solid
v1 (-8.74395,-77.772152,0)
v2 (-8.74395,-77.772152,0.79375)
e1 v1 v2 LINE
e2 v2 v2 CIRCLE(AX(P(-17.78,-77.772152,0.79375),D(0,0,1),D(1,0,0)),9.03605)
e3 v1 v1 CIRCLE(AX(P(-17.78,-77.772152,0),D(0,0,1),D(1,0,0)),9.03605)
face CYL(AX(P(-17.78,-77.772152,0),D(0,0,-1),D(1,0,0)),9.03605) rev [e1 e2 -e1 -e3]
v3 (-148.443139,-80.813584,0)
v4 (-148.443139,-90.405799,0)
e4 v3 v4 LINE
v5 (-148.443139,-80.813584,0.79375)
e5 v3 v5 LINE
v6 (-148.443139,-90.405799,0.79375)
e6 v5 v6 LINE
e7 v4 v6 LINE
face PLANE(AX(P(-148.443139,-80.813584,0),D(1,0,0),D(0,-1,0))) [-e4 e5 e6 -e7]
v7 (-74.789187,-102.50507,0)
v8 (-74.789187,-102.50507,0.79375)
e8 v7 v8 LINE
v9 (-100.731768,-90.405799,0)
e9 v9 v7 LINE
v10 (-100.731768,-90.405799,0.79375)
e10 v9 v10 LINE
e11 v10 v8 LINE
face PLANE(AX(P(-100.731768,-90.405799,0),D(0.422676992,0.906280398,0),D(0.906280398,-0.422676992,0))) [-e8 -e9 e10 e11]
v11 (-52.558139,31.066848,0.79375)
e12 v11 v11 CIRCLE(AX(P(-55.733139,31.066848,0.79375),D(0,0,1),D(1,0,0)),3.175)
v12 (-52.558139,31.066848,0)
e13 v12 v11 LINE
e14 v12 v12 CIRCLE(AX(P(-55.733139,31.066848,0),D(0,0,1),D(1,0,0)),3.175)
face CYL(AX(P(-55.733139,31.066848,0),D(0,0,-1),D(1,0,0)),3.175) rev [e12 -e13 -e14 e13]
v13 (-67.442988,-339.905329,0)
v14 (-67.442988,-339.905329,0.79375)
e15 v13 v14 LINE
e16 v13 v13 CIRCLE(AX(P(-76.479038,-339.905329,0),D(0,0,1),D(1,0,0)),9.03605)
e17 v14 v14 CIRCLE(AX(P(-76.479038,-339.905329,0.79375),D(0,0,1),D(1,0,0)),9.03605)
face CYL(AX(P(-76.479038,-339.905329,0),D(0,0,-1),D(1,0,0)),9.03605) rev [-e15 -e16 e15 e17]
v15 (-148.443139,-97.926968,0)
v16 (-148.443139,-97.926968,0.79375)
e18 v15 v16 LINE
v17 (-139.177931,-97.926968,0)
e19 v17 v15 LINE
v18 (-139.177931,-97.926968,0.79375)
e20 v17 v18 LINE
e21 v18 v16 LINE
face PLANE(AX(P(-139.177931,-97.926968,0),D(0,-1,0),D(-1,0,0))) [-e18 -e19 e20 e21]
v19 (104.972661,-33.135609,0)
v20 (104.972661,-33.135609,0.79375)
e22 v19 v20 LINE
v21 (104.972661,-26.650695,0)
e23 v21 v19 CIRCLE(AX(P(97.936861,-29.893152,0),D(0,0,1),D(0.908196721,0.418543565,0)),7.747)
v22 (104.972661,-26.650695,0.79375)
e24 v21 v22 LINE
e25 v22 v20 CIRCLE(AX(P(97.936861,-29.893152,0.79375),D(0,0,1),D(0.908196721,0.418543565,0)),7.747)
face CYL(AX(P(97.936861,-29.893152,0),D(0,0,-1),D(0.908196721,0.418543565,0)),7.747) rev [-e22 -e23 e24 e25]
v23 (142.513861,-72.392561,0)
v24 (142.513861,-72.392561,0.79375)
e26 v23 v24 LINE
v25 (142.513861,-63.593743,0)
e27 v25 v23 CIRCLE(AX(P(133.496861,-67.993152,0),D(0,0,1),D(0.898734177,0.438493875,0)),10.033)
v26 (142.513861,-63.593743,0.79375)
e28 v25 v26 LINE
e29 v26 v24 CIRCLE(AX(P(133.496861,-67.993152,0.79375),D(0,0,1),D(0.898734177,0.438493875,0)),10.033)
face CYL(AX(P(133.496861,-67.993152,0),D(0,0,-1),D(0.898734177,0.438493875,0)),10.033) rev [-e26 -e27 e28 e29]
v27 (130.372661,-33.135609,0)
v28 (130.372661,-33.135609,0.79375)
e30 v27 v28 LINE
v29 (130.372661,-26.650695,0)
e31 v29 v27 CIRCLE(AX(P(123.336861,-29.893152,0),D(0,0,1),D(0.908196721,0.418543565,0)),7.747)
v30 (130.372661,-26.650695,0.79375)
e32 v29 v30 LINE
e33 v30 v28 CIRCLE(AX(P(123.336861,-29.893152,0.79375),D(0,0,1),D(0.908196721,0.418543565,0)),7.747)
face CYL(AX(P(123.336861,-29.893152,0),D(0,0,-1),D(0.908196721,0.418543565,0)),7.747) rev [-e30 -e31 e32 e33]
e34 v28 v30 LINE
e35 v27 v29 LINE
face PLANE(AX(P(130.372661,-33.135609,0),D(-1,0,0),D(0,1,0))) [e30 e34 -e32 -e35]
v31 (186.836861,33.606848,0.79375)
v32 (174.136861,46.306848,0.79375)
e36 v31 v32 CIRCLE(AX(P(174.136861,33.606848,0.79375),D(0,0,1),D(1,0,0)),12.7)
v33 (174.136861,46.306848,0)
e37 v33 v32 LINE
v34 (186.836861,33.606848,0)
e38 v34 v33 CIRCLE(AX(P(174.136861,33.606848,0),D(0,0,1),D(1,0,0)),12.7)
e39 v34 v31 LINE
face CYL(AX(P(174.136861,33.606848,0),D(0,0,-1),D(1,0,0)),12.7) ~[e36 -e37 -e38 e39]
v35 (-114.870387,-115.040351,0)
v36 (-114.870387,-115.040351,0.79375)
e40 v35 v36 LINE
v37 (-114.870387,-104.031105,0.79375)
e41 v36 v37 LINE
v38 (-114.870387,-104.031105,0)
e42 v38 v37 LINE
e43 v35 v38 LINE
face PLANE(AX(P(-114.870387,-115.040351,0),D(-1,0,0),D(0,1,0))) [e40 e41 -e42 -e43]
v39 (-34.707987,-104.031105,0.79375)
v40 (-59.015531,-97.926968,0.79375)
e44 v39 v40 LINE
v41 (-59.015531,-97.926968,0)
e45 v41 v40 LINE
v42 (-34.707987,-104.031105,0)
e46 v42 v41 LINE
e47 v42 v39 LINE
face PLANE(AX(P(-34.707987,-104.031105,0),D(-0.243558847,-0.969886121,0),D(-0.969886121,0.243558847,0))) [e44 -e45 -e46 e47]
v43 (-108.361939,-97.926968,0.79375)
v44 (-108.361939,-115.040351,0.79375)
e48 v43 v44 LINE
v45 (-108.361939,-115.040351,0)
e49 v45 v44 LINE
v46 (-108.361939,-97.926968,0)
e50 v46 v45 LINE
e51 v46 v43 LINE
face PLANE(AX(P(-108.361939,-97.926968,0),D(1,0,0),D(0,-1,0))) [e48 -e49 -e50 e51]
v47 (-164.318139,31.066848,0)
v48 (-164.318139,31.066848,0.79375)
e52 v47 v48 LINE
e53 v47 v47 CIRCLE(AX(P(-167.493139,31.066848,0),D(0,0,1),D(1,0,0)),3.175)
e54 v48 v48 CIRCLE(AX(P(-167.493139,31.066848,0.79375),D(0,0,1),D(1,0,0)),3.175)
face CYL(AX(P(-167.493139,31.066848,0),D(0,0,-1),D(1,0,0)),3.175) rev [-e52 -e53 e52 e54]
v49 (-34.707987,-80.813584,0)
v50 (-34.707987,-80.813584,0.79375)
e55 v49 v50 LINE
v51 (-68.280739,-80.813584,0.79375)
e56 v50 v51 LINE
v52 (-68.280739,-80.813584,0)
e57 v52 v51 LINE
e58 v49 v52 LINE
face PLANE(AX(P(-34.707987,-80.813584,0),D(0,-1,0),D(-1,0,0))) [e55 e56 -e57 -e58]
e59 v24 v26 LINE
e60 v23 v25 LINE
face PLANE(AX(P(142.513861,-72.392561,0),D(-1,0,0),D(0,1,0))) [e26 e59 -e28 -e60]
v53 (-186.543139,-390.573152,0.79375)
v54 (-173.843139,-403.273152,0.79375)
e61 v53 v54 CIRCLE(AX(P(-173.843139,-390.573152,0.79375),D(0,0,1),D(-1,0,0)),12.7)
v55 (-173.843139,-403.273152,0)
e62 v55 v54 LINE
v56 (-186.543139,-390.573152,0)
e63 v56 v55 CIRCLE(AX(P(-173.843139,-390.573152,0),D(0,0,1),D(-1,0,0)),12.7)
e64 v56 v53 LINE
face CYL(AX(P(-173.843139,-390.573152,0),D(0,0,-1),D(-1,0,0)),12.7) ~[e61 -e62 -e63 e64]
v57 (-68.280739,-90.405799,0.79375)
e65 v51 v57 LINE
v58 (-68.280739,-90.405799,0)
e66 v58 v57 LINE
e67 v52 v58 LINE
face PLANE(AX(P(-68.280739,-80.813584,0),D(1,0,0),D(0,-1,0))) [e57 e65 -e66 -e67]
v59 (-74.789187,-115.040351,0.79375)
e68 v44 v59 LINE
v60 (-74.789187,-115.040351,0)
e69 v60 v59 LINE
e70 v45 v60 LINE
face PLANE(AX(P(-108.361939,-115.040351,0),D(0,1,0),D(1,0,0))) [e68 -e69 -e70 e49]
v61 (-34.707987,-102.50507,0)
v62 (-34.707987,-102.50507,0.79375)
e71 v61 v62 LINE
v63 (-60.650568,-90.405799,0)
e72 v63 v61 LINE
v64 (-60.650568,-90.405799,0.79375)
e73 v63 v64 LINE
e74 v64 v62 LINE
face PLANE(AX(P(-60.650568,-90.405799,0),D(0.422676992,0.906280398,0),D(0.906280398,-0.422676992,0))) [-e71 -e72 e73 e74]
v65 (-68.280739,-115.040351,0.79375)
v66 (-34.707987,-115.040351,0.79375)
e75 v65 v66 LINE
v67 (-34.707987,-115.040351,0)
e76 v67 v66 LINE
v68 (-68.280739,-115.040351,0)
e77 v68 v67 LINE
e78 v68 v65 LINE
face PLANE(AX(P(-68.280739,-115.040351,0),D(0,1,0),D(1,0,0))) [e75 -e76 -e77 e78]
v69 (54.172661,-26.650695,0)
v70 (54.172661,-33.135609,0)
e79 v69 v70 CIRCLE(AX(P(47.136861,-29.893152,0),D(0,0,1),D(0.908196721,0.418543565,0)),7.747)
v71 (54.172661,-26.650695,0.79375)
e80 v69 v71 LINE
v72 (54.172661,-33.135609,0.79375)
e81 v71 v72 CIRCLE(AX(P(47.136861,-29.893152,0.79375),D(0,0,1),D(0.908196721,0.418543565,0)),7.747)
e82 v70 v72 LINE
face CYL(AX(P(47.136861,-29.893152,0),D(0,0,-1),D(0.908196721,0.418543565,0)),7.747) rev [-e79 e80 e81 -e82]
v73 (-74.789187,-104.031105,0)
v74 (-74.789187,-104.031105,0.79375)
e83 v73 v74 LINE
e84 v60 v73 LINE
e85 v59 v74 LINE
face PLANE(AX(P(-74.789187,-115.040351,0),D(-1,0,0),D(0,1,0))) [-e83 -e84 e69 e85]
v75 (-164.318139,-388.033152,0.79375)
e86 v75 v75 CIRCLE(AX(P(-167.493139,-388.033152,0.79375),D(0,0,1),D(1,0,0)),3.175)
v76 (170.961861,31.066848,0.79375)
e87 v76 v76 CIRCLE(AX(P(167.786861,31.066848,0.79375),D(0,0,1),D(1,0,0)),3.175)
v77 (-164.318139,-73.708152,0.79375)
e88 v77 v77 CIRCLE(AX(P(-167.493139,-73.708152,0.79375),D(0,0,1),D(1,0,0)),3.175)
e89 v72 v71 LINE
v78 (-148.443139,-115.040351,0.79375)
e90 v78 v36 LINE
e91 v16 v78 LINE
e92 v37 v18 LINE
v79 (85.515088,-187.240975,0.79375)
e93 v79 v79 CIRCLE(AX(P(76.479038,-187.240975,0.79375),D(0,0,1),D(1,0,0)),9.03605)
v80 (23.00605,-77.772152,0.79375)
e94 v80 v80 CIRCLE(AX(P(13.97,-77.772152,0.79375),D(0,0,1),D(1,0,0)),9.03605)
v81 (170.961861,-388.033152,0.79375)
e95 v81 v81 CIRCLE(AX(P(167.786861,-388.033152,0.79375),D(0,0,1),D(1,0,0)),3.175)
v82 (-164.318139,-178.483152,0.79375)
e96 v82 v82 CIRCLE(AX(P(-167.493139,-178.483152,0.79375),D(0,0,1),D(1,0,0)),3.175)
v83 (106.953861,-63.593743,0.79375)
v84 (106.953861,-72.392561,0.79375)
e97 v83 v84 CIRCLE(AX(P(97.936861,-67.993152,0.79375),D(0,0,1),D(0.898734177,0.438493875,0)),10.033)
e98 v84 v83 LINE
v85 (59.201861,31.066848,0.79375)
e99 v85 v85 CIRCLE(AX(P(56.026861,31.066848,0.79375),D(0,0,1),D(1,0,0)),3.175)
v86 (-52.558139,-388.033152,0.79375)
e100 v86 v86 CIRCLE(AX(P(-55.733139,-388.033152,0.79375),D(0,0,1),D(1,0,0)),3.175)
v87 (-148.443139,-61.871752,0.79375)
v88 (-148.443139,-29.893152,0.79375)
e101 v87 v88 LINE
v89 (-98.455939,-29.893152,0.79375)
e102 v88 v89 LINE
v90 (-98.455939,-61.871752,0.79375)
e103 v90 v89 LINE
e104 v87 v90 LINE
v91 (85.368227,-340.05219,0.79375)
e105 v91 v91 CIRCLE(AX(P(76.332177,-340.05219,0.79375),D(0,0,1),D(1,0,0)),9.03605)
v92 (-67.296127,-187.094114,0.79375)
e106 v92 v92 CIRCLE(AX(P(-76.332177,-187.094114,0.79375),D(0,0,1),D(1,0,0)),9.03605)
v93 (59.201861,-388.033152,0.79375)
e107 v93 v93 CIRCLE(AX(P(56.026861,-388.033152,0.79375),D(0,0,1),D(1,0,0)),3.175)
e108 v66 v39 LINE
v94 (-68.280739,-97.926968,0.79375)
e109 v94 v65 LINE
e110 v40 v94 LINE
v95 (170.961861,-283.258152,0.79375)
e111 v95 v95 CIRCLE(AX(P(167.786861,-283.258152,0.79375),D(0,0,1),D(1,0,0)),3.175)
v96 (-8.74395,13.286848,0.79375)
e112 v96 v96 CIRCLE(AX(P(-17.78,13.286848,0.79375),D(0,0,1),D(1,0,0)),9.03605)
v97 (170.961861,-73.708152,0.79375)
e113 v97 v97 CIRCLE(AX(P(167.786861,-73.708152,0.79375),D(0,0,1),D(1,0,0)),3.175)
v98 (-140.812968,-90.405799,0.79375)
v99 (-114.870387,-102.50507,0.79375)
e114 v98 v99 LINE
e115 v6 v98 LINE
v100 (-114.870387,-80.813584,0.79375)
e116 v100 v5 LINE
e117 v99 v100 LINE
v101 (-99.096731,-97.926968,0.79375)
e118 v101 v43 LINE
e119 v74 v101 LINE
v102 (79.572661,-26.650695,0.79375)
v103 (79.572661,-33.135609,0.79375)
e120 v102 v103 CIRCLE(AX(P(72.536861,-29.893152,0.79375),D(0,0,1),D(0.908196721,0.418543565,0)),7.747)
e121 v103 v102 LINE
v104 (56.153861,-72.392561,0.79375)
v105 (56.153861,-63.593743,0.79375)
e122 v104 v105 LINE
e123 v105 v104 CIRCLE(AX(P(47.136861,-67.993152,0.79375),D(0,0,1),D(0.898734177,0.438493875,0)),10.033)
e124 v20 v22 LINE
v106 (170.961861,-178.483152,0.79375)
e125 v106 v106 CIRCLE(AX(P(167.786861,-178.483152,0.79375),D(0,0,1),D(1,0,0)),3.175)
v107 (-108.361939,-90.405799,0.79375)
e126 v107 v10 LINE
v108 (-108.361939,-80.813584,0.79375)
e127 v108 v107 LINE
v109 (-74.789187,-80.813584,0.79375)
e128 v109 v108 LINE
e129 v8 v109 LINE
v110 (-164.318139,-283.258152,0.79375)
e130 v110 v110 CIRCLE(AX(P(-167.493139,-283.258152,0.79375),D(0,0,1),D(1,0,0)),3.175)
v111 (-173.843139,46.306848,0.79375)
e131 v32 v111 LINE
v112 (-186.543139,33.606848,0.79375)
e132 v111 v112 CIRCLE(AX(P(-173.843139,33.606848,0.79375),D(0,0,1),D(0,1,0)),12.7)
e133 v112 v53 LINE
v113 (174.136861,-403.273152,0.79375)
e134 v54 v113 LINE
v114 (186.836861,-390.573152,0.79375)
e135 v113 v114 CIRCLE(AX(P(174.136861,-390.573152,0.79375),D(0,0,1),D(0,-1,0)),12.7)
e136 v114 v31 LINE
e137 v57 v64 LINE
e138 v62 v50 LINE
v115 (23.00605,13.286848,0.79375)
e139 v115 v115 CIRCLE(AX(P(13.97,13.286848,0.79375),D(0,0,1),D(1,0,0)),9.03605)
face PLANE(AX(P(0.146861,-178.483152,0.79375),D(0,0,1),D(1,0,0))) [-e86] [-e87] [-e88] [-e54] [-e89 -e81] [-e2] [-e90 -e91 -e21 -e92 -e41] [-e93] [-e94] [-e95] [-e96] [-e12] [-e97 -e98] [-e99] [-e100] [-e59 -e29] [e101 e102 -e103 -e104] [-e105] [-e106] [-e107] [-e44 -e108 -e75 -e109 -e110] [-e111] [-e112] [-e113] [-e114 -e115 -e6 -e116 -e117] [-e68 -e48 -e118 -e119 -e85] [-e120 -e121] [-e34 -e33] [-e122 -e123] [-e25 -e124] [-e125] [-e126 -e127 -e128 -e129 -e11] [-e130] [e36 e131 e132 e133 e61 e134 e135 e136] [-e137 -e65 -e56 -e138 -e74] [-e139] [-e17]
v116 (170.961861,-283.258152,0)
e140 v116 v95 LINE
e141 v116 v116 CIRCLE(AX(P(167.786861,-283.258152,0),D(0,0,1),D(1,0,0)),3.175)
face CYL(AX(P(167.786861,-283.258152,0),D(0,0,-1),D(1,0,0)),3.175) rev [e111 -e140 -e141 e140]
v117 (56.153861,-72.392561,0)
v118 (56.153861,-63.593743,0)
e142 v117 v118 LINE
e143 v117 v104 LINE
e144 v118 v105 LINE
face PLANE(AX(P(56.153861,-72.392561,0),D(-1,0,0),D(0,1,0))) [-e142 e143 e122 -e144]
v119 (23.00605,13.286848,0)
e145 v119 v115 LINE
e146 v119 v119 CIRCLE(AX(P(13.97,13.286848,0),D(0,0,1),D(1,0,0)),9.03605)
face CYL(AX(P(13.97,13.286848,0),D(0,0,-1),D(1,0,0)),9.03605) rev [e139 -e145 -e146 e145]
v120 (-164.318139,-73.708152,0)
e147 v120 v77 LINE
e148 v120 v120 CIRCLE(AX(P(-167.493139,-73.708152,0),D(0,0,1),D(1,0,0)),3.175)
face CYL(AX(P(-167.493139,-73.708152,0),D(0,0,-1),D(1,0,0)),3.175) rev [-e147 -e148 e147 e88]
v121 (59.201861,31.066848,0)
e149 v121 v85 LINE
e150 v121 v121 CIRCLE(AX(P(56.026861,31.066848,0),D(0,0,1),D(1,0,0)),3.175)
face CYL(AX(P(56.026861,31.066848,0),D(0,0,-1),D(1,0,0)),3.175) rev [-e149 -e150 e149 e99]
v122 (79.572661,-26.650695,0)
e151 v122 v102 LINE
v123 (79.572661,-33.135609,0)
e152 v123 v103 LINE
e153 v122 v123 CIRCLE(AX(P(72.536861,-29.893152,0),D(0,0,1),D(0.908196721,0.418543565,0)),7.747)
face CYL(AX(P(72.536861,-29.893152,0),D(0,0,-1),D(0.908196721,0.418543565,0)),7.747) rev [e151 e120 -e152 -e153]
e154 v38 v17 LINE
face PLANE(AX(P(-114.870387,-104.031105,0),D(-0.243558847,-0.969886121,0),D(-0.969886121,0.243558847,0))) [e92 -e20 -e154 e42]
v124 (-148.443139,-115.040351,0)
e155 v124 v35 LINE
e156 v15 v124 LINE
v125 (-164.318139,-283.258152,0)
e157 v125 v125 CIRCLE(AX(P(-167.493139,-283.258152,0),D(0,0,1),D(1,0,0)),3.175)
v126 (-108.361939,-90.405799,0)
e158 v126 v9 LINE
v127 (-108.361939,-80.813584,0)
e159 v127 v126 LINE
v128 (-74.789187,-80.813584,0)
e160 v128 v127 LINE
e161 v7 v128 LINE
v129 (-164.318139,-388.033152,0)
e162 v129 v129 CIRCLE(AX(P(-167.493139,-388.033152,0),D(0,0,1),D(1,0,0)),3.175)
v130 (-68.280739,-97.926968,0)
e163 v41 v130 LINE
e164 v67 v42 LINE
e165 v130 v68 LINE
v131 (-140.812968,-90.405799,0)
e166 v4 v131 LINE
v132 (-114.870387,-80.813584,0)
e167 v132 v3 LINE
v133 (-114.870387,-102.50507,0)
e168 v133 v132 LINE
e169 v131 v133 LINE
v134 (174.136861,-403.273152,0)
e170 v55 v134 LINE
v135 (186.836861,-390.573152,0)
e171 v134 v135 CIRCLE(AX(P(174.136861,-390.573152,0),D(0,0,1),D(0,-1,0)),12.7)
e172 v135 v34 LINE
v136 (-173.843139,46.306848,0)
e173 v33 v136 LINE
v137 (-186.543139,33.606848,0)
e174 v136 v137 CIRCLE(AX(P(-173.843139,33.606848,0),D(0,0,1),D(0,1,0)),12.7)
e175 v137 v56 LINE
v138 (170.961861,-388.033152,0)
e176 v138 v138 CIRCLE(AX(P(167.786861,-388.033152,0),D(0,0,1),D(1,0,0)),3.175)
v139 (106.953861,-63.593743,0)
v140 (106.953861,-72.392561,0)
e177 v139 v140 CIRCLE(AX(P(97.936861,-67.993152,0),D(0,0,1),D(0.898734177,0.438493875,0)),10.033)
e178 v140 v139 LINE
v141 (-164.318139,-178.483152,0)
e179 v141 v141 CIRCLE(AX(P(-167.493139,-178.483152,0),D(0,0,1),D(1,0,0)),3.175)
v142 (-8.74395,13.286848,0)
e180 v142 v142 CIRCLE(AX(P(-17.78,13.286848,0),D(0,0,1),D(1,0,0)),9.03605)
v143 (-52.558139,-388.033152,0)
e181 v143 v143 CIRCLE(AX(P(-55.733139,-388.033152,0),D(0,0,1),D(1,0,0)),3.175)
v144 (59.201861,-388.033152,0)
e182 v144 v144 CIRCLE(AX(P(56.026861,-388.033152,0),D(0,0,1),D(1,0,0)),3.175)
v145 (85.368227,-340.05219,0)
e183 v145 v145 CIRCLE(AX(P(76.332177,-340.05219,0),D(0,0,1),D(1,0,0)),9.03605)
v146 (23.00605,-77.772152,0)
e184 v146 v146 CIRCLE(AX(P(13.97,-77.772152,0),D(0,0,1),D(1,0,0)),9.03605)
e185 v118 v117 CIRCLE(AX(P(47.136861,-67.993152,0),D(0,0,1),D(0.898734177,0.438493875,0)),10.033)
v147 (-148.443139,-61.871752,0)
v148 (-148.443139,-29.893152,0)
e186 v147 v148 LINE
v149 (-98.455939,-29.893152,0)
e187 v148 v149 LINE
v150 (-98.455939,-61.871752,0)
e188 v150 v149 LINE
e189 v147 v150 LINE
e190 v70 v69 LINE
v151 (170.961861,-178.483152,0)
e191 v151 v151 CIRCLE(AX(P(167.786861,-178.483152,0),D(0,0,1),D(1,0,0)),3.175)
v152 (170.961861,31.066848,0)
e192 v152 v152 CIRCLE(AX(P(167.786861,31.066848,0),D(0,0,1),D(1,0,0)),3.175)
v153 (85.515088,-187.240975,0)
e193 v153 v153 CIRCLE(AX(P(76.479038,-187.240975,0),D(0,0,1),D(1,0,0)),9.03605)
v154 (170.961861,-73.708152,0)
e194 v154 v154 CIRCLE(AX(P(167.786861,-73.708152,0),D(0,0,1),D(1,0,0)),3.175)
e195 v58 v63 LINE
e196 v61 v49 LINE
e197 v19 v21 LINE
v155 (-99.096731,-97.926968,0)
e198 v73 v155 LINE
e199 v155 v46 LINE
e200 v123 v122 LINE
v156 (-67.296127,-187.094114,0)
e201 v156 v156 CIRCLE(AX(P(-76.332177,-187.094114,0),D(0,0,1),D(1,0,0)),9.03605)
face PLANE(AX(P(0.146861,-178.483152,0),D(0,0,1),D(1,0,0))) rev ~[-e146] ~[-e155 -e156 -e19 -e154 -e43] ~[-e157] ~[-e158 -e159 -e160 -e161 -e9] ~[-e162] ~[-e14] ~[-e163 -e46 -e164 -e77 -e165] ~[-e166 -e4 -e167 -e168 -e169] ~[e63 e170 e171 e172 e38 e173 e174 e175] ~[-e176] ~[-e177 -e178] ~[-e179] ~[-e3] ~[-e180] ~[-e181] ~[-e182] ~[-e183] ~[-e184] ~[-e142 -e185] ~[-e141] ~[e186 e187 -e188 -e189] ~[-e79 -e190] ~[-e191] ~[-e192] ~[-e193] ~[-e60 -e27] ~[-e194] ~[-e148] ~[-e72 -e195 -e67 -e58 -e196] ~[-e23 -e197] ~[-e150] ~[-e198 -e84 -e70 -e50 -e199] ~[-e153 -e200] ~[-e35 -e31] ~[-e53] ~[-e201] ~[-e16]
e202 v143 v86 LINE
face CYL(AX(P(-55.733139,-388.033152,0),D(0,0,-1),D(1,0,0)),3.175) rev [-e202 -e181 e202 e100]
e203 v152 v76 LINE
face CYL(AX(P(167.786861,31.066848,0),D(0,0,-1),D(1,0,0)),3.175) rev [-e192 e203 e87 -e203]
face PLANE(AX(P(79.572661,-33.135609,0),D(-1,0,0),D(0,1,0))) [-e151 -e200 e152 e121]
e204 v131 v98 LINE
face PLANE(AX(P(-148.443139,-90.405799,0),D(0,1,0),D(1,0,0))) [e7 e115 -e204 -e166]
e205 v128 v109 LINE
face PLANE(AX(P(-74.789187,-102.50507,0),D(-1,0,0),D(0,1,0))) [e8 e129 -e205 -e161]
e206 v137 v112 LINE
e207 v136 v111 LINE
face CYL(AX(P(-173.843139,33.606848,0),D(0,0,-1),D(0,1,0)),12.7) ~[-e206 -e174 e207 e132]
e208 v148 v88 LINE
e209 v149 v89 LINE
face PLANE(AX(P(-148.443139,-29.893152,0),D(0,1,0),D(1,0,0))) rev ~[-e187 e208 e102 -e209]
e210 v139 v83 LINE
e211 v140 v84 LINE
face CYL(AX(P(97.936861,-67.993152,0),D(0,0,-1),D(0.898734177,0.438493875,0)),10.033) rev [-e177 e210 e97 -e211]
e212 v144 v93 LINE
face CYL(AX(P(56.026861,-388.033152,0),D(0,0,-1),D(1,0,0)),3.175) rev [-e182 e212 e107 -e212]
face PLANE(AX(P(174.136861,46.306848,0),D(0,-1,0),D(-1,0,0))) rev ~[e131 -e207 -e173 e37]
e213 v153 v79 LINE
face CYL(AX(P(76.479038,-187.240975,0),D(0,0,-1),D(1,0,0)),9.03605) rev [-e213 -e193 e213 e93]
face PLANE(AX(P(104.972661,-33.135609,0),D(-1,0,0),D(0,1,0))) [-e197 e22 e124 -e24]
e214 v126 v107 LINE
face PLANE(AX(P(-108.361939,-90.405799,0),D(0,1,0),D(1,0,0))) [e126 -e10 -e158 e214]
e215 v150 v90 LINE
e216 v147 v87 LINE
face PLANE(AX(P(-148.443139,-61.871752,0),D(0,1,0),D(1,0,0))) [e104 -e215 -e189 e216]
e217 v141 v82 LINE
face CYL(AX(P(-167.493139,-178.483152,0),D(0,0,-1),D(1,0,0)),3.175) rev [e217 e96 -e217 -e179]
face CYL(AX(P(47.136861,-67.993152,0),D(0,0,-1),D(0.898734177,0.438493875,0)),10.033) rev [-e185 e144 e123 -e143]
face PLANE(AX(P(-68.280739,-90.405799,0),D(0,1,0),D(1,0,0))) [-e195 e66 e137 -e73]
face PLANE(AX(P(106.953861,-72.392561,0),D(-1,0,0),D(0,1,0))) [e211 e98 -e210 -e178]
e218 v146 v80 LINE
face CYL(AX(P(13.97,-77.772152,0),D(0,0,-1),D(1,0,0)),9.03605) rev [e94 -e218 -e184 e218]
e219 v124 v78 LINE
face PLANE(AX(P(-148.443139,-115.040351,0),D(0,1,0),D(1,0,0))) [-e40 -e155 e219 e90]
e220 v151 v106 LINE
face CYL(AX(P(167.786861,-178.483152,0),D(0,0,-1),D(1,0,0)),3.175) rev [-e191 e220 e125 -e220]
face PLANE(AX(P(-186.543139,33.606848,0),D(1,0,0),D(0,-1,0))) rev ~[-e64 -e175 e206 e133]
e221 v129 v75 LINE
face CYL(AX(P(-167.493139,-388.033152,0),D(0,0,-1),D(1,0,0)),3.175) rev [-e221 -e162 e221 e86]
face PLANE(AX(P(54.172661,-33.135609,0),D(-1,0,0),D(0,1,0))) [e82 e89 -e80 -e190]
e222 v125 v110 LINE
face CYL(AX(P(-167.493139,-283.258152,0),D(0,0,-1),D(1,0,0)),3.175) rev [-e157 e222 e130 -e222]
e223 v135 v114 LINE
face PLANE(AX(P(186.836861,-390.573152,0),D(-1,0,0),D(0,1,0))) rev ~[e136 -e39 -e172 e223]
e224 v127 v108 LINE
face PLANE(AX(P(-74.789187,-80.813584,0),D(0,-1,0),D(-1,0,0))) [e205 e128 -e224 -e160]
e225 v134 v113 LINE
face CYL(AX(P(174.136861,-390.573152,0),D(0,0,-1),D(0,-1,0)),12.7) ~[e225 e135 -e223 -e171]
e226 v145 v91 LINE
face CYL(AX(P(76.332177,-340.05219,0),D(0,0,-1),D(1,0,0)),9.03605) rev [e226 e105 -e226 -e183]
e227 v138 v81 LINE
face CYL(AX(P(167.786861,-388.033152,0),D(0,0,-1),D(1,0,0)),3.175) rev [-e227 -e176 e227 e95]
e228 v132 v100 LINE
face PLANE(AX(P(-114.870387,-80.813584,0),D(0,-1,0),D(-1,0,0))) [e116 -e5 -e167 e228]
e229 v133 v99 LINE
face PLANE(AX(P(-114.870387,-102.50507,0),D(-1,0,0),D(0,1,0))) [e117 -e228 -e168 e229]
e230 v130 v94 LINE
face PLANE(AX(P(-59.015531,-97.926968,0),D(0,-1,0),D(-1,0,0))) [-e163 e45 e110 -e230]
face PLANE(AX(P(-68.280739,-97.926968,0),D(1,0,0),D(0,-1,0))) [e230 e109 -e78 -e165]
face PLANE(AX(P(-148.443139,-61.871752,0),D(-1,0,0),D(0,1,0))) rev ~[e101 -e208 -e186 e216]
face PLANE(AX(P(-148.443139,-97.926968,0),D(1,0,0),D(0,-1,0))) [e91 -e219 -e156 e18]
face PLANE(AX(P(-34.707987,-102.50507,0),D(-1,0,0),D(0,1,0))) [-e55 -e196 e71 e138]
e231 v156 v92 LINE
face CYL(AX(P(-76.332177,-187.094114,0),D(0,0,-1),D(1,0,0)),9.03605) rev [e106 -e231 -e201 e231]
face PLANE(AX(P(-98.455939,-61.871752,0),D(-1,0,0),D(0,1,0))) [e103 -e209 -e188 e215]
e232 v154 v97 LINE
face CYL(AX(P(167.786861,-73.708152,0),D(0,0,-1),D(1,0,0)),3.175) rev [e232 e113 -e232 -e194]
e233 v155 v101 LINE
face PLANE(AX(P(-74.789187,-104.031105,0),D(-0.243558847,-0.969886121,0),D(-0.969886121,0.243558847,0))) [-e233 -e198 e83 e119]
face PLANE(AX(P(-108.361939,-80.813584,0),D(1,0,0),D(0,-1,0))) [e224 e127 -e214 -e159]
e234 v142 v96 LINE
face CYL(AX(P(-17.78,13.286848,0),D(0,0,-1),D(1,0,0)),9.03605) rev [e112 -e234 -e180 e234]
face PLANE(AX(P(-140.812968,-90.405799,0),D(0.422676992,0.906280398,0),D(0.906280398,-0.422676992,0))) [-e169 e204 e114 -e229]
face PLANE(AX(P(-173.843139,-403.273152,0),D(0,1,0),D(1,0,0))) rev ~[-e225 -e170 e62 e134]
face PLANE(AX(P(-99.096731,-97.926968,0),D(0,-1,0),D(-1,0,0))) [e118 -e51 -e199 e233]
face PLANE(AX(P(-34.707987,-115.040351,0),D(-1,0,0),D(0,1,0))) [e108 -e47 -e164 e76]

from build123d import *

# Parameters (mm, degrees)
SKETCH1_R           = 3.175
SKETCH1_R_2         = 9.03605
SKETCH1_W           = 49.9872
SKETCH1_H           = 31.9786
BOSS_EXTRUDE1_DEPTH = 0.79375


with BuildPart() as part:
    # Sketch1 → Boss-Extrude1 (new body)
    with BuildSketch(Plane.XY):
        with BuildLine():
            Line((174.136860842, 46.306847874), (-173.843139158, 46.306847874))
            ThreePointArc((-173.843139158, 46.306847874), (-182.823395279, 42.587103995), (-186.543139158, 33.606847874))
            Line((-186.543139158, 33.606847874), (-186.543139158, -390.573152126))
            ThreePointArc((-186.543139158, -390.573152126), (-182.823395279, -399.553408247), (-173.843139158, -403.273152126))
            Line((-173.843139158, -403.273152126), (174.136860842, -403.273152126))
            ThreePointArc((174.136860842, -403.273152126), (183.117116963, -399.553408247), (186.836860842, -390.573152126))
            Line((186.836860842, -390.573152126), (186.836860842, 33.606847874))
            ThreePointArc((186.836860842, 33.606847874), (183.117116963, 42.587103995), (174.136860842, 46.306847874))
        make_face()
        with Locations((-167.493139158, -388.033152126)):
            Circle(SKETCH1_R, mode=Mode.SUBTRACT)
        with Locations((-167.493139158, -283.258152126)):
            Circle(SKETCH1_R, mode=Mode.SUBTRACT)
        with Locations((-167.493139158, -178.483152126)):
            Circle(SKETCH1_R, mode=Mode.SUBTRACT)
        with Locations((-167.493139158, -73.708152126)):
            Circle(SKETCH1_R, mode=Mode.SUBTRACT)
        with Locations((-167.493139158, 31.066847874)):
            Circle(SKETCH1_R, mode=Mode.SUBTRACT)
        with Locations((-55.733139158, 31.066847874)):
            Circle(SKETCH1_R, mode=Mode.SUBTRACT)
        with Locations((56.026860842, 31.066847874)):
            Circle(SKETCH1_R, mode=Mode.SUBTRACT)
        with Locations((167.786860842, 31.066847874)):
            Circle(SKETCH1_R, mode=Mode.SUBTRACT)
        with Locations((167.786860842, -73.708152126)):
            Circle(SKETCH1_R, mode=Mode.SUBTRACT)
        with Locations((167.786860842, -178.483152126)):
            Circle(SKETCH1_R, mode=Mode.SUBTRACT)
        with Locations((167.786860842, -283.258152126)):
            Circle(SKETCH1_R, mode=Mode.SUBTRACT)
        with Locations((167.786860842, -388.033152126)):
            Circle(SKETCH1_R, mode=Mode.SUBTRACT)
        with Locations((56.026860842, -388.033152126)):
            Circle(SKETCH1_R, mode=Mode.SUBTRACT)
        with Locations((-55.733139158, -388.033152126)):
            Circle(SKETCH1_R, mode=Mode.SUBTRACT)
        with Locations((-76.479037871, -339.905329155)):
            Circle(SKETCH1_R_2, mode=Mode.SUBTRACT)
        with Locations((-76.332177029, -187.094114255)):
            Circle(SKETCH1_R_2, mode=Mode.SUBTRACT)
        with Locations((76.479037871, -187.240975097)):
            Circle(SKETCH1_R_2, mode=Mode.SUBTRACT)
        with Locations((76.332177029, -340.052189997)):
            Circle(SKETCH1_R_2, mode=Mode.SUBTRACT)
        with Locations((13.97, -77.772152126)):
            Circle(SKETCH1_R_2, mode=Mode.SUBTRACT)
        with Locations((-17.78, -77.772152126)):
            Circle(SKETCH1_R_2, mode=Mode.SUBTRACT)
        with Locations((-17.78, 13.286847874)):
            Circle(SKETCH1_R_2, mode=Mode.SUBTRACT)
        with Locations((13.97, 13.286847874)):
            Circle(SKETCH1_R_2, mode=Mode.SUBTRACT)
        with Locations((-123.449539158, -45.882452126)):
            Rectangle(SKETCH1_W, SKETCH1_H, mode=Mode.SUBTRACT)
        Polygon((-114.870386547, -115.040351359), (-114.870386547, -104.031104561), (-139.177931457, -97.926967723), (-148.443139158, -97.926967723), (-148.443139158, -115.040351359), align=None, mode=Mode.SUBTRACT)
        Polygon((-68.280739158, -90.405799119), (-60.65056811, -90.405799119), (-34.707986547, -102.505070352), (-34.707986547, -80.813584087), (-68.280739158, -80.813584087), align=None, mode=Mode.SUBTRACT)
        Polygon((-74.789186547, -115.040351359), (-74.789186547, -104.031104561), (-99.096731457, -97.926967723), (-108.361939158, -97.926967723), (-108.361939158, -115.040351359), align=None, mode=Mode.SUBTRACT)
        Polygon((-74.789186547, -102.505070352), (-74.789186547, -80.813584087), (-108.361939158, -80.813584087), (-108.361939158, -90.405799119), (-100.73176811, -90.405799119), align=None, mode=Mode.SUBTRACT)
        Polygon((-59.015531457, -97.926967723), (-68.280739158, -97.926967723), (-68.280739158, -115.040351359), (-34.707986547, -115.040351359), (-34.707986547, -104.031104561), align=None, mode=Mode.SUBTRACT)
        Polygon((-148.443139158, -80.813584087), (-148.443139158, -90.405799119), (-140.81296811, -90.405799119), (-114.870386547, -102.505070352), (-114.870386547, -80.813584087), align=None, mode=Mode.SUBTRACT)
        with BuildLine():
            Line((56.153860842, -72.392561177), (56.153860842, -63.593743074))
            ThreePointArc((56.153860842, -63.593743074), (37.103860842, -67.993152126), (56.153860842, -72.392561177))
        make_face(mode=Mode.SUBTRACT)
        with BuildLine():
            Line((106.953860842, -72.392561177), (106.953860842, -63.593743074))
            ThreePointArc((106.953860842, -63.593743074), (87.903860842, -67.993152126), (106.953860842, -72.392561177))
        make_face(mode=Mode.SUBTRACT)
        with BuildLine():
            Line((142.513860842, -72.392561177), (142.513860842, -63.593743074))
            ThreePointArc((142.513860842, -63.593743074), (123.463860842, -67.993152126), (142.513860842, -72.392561177))
        make_face(mode=Mode.SUBTRACT)
        with BuildLine():
            Line((130.372660842, -33.13560912), (130.372660842, -26.650695131))
            ThreePointArc((130.372660842, -26.650695131), (115.589860842, -29.893152126), (130.372660842, -33.13560912))
        make_face(mode=Mode.SUBTRACT)
        with BuildLine():
            Line((104.972660842, -33.13560912), (104.972660842, -26.650695131))
            ThreePointArc((104.972660842, -26.650695131), (90.189860842, -29.893152126), (104.972660842, -33.13560912))
        make_face(mode=Mode.SUBTRACT)
        with BuildLine():
            Line((79.572660842, -33.13560912), (79.572660842, -26.650695131))
            ThreePointArc((79.572660842, -26.650695131), (64.789860842, -29.893152126), (79.572660842, -33.13560912))
        make_face(mode=Mode.SUBTRACT)
        with BuildLine():
            Line((54.172660842, -33.13560912), (54.172660842, -26.650695131))
            ThreePointArc((54.172660842, -26.650695131), (39.389860842, -29.893152126), (54.172660842, -33.13560912))
        make_face(mode=Mode.SUBTRACT)
    extrude(amount=BOSS_EXTRUDE1_DEPTH)


solid = part.part
